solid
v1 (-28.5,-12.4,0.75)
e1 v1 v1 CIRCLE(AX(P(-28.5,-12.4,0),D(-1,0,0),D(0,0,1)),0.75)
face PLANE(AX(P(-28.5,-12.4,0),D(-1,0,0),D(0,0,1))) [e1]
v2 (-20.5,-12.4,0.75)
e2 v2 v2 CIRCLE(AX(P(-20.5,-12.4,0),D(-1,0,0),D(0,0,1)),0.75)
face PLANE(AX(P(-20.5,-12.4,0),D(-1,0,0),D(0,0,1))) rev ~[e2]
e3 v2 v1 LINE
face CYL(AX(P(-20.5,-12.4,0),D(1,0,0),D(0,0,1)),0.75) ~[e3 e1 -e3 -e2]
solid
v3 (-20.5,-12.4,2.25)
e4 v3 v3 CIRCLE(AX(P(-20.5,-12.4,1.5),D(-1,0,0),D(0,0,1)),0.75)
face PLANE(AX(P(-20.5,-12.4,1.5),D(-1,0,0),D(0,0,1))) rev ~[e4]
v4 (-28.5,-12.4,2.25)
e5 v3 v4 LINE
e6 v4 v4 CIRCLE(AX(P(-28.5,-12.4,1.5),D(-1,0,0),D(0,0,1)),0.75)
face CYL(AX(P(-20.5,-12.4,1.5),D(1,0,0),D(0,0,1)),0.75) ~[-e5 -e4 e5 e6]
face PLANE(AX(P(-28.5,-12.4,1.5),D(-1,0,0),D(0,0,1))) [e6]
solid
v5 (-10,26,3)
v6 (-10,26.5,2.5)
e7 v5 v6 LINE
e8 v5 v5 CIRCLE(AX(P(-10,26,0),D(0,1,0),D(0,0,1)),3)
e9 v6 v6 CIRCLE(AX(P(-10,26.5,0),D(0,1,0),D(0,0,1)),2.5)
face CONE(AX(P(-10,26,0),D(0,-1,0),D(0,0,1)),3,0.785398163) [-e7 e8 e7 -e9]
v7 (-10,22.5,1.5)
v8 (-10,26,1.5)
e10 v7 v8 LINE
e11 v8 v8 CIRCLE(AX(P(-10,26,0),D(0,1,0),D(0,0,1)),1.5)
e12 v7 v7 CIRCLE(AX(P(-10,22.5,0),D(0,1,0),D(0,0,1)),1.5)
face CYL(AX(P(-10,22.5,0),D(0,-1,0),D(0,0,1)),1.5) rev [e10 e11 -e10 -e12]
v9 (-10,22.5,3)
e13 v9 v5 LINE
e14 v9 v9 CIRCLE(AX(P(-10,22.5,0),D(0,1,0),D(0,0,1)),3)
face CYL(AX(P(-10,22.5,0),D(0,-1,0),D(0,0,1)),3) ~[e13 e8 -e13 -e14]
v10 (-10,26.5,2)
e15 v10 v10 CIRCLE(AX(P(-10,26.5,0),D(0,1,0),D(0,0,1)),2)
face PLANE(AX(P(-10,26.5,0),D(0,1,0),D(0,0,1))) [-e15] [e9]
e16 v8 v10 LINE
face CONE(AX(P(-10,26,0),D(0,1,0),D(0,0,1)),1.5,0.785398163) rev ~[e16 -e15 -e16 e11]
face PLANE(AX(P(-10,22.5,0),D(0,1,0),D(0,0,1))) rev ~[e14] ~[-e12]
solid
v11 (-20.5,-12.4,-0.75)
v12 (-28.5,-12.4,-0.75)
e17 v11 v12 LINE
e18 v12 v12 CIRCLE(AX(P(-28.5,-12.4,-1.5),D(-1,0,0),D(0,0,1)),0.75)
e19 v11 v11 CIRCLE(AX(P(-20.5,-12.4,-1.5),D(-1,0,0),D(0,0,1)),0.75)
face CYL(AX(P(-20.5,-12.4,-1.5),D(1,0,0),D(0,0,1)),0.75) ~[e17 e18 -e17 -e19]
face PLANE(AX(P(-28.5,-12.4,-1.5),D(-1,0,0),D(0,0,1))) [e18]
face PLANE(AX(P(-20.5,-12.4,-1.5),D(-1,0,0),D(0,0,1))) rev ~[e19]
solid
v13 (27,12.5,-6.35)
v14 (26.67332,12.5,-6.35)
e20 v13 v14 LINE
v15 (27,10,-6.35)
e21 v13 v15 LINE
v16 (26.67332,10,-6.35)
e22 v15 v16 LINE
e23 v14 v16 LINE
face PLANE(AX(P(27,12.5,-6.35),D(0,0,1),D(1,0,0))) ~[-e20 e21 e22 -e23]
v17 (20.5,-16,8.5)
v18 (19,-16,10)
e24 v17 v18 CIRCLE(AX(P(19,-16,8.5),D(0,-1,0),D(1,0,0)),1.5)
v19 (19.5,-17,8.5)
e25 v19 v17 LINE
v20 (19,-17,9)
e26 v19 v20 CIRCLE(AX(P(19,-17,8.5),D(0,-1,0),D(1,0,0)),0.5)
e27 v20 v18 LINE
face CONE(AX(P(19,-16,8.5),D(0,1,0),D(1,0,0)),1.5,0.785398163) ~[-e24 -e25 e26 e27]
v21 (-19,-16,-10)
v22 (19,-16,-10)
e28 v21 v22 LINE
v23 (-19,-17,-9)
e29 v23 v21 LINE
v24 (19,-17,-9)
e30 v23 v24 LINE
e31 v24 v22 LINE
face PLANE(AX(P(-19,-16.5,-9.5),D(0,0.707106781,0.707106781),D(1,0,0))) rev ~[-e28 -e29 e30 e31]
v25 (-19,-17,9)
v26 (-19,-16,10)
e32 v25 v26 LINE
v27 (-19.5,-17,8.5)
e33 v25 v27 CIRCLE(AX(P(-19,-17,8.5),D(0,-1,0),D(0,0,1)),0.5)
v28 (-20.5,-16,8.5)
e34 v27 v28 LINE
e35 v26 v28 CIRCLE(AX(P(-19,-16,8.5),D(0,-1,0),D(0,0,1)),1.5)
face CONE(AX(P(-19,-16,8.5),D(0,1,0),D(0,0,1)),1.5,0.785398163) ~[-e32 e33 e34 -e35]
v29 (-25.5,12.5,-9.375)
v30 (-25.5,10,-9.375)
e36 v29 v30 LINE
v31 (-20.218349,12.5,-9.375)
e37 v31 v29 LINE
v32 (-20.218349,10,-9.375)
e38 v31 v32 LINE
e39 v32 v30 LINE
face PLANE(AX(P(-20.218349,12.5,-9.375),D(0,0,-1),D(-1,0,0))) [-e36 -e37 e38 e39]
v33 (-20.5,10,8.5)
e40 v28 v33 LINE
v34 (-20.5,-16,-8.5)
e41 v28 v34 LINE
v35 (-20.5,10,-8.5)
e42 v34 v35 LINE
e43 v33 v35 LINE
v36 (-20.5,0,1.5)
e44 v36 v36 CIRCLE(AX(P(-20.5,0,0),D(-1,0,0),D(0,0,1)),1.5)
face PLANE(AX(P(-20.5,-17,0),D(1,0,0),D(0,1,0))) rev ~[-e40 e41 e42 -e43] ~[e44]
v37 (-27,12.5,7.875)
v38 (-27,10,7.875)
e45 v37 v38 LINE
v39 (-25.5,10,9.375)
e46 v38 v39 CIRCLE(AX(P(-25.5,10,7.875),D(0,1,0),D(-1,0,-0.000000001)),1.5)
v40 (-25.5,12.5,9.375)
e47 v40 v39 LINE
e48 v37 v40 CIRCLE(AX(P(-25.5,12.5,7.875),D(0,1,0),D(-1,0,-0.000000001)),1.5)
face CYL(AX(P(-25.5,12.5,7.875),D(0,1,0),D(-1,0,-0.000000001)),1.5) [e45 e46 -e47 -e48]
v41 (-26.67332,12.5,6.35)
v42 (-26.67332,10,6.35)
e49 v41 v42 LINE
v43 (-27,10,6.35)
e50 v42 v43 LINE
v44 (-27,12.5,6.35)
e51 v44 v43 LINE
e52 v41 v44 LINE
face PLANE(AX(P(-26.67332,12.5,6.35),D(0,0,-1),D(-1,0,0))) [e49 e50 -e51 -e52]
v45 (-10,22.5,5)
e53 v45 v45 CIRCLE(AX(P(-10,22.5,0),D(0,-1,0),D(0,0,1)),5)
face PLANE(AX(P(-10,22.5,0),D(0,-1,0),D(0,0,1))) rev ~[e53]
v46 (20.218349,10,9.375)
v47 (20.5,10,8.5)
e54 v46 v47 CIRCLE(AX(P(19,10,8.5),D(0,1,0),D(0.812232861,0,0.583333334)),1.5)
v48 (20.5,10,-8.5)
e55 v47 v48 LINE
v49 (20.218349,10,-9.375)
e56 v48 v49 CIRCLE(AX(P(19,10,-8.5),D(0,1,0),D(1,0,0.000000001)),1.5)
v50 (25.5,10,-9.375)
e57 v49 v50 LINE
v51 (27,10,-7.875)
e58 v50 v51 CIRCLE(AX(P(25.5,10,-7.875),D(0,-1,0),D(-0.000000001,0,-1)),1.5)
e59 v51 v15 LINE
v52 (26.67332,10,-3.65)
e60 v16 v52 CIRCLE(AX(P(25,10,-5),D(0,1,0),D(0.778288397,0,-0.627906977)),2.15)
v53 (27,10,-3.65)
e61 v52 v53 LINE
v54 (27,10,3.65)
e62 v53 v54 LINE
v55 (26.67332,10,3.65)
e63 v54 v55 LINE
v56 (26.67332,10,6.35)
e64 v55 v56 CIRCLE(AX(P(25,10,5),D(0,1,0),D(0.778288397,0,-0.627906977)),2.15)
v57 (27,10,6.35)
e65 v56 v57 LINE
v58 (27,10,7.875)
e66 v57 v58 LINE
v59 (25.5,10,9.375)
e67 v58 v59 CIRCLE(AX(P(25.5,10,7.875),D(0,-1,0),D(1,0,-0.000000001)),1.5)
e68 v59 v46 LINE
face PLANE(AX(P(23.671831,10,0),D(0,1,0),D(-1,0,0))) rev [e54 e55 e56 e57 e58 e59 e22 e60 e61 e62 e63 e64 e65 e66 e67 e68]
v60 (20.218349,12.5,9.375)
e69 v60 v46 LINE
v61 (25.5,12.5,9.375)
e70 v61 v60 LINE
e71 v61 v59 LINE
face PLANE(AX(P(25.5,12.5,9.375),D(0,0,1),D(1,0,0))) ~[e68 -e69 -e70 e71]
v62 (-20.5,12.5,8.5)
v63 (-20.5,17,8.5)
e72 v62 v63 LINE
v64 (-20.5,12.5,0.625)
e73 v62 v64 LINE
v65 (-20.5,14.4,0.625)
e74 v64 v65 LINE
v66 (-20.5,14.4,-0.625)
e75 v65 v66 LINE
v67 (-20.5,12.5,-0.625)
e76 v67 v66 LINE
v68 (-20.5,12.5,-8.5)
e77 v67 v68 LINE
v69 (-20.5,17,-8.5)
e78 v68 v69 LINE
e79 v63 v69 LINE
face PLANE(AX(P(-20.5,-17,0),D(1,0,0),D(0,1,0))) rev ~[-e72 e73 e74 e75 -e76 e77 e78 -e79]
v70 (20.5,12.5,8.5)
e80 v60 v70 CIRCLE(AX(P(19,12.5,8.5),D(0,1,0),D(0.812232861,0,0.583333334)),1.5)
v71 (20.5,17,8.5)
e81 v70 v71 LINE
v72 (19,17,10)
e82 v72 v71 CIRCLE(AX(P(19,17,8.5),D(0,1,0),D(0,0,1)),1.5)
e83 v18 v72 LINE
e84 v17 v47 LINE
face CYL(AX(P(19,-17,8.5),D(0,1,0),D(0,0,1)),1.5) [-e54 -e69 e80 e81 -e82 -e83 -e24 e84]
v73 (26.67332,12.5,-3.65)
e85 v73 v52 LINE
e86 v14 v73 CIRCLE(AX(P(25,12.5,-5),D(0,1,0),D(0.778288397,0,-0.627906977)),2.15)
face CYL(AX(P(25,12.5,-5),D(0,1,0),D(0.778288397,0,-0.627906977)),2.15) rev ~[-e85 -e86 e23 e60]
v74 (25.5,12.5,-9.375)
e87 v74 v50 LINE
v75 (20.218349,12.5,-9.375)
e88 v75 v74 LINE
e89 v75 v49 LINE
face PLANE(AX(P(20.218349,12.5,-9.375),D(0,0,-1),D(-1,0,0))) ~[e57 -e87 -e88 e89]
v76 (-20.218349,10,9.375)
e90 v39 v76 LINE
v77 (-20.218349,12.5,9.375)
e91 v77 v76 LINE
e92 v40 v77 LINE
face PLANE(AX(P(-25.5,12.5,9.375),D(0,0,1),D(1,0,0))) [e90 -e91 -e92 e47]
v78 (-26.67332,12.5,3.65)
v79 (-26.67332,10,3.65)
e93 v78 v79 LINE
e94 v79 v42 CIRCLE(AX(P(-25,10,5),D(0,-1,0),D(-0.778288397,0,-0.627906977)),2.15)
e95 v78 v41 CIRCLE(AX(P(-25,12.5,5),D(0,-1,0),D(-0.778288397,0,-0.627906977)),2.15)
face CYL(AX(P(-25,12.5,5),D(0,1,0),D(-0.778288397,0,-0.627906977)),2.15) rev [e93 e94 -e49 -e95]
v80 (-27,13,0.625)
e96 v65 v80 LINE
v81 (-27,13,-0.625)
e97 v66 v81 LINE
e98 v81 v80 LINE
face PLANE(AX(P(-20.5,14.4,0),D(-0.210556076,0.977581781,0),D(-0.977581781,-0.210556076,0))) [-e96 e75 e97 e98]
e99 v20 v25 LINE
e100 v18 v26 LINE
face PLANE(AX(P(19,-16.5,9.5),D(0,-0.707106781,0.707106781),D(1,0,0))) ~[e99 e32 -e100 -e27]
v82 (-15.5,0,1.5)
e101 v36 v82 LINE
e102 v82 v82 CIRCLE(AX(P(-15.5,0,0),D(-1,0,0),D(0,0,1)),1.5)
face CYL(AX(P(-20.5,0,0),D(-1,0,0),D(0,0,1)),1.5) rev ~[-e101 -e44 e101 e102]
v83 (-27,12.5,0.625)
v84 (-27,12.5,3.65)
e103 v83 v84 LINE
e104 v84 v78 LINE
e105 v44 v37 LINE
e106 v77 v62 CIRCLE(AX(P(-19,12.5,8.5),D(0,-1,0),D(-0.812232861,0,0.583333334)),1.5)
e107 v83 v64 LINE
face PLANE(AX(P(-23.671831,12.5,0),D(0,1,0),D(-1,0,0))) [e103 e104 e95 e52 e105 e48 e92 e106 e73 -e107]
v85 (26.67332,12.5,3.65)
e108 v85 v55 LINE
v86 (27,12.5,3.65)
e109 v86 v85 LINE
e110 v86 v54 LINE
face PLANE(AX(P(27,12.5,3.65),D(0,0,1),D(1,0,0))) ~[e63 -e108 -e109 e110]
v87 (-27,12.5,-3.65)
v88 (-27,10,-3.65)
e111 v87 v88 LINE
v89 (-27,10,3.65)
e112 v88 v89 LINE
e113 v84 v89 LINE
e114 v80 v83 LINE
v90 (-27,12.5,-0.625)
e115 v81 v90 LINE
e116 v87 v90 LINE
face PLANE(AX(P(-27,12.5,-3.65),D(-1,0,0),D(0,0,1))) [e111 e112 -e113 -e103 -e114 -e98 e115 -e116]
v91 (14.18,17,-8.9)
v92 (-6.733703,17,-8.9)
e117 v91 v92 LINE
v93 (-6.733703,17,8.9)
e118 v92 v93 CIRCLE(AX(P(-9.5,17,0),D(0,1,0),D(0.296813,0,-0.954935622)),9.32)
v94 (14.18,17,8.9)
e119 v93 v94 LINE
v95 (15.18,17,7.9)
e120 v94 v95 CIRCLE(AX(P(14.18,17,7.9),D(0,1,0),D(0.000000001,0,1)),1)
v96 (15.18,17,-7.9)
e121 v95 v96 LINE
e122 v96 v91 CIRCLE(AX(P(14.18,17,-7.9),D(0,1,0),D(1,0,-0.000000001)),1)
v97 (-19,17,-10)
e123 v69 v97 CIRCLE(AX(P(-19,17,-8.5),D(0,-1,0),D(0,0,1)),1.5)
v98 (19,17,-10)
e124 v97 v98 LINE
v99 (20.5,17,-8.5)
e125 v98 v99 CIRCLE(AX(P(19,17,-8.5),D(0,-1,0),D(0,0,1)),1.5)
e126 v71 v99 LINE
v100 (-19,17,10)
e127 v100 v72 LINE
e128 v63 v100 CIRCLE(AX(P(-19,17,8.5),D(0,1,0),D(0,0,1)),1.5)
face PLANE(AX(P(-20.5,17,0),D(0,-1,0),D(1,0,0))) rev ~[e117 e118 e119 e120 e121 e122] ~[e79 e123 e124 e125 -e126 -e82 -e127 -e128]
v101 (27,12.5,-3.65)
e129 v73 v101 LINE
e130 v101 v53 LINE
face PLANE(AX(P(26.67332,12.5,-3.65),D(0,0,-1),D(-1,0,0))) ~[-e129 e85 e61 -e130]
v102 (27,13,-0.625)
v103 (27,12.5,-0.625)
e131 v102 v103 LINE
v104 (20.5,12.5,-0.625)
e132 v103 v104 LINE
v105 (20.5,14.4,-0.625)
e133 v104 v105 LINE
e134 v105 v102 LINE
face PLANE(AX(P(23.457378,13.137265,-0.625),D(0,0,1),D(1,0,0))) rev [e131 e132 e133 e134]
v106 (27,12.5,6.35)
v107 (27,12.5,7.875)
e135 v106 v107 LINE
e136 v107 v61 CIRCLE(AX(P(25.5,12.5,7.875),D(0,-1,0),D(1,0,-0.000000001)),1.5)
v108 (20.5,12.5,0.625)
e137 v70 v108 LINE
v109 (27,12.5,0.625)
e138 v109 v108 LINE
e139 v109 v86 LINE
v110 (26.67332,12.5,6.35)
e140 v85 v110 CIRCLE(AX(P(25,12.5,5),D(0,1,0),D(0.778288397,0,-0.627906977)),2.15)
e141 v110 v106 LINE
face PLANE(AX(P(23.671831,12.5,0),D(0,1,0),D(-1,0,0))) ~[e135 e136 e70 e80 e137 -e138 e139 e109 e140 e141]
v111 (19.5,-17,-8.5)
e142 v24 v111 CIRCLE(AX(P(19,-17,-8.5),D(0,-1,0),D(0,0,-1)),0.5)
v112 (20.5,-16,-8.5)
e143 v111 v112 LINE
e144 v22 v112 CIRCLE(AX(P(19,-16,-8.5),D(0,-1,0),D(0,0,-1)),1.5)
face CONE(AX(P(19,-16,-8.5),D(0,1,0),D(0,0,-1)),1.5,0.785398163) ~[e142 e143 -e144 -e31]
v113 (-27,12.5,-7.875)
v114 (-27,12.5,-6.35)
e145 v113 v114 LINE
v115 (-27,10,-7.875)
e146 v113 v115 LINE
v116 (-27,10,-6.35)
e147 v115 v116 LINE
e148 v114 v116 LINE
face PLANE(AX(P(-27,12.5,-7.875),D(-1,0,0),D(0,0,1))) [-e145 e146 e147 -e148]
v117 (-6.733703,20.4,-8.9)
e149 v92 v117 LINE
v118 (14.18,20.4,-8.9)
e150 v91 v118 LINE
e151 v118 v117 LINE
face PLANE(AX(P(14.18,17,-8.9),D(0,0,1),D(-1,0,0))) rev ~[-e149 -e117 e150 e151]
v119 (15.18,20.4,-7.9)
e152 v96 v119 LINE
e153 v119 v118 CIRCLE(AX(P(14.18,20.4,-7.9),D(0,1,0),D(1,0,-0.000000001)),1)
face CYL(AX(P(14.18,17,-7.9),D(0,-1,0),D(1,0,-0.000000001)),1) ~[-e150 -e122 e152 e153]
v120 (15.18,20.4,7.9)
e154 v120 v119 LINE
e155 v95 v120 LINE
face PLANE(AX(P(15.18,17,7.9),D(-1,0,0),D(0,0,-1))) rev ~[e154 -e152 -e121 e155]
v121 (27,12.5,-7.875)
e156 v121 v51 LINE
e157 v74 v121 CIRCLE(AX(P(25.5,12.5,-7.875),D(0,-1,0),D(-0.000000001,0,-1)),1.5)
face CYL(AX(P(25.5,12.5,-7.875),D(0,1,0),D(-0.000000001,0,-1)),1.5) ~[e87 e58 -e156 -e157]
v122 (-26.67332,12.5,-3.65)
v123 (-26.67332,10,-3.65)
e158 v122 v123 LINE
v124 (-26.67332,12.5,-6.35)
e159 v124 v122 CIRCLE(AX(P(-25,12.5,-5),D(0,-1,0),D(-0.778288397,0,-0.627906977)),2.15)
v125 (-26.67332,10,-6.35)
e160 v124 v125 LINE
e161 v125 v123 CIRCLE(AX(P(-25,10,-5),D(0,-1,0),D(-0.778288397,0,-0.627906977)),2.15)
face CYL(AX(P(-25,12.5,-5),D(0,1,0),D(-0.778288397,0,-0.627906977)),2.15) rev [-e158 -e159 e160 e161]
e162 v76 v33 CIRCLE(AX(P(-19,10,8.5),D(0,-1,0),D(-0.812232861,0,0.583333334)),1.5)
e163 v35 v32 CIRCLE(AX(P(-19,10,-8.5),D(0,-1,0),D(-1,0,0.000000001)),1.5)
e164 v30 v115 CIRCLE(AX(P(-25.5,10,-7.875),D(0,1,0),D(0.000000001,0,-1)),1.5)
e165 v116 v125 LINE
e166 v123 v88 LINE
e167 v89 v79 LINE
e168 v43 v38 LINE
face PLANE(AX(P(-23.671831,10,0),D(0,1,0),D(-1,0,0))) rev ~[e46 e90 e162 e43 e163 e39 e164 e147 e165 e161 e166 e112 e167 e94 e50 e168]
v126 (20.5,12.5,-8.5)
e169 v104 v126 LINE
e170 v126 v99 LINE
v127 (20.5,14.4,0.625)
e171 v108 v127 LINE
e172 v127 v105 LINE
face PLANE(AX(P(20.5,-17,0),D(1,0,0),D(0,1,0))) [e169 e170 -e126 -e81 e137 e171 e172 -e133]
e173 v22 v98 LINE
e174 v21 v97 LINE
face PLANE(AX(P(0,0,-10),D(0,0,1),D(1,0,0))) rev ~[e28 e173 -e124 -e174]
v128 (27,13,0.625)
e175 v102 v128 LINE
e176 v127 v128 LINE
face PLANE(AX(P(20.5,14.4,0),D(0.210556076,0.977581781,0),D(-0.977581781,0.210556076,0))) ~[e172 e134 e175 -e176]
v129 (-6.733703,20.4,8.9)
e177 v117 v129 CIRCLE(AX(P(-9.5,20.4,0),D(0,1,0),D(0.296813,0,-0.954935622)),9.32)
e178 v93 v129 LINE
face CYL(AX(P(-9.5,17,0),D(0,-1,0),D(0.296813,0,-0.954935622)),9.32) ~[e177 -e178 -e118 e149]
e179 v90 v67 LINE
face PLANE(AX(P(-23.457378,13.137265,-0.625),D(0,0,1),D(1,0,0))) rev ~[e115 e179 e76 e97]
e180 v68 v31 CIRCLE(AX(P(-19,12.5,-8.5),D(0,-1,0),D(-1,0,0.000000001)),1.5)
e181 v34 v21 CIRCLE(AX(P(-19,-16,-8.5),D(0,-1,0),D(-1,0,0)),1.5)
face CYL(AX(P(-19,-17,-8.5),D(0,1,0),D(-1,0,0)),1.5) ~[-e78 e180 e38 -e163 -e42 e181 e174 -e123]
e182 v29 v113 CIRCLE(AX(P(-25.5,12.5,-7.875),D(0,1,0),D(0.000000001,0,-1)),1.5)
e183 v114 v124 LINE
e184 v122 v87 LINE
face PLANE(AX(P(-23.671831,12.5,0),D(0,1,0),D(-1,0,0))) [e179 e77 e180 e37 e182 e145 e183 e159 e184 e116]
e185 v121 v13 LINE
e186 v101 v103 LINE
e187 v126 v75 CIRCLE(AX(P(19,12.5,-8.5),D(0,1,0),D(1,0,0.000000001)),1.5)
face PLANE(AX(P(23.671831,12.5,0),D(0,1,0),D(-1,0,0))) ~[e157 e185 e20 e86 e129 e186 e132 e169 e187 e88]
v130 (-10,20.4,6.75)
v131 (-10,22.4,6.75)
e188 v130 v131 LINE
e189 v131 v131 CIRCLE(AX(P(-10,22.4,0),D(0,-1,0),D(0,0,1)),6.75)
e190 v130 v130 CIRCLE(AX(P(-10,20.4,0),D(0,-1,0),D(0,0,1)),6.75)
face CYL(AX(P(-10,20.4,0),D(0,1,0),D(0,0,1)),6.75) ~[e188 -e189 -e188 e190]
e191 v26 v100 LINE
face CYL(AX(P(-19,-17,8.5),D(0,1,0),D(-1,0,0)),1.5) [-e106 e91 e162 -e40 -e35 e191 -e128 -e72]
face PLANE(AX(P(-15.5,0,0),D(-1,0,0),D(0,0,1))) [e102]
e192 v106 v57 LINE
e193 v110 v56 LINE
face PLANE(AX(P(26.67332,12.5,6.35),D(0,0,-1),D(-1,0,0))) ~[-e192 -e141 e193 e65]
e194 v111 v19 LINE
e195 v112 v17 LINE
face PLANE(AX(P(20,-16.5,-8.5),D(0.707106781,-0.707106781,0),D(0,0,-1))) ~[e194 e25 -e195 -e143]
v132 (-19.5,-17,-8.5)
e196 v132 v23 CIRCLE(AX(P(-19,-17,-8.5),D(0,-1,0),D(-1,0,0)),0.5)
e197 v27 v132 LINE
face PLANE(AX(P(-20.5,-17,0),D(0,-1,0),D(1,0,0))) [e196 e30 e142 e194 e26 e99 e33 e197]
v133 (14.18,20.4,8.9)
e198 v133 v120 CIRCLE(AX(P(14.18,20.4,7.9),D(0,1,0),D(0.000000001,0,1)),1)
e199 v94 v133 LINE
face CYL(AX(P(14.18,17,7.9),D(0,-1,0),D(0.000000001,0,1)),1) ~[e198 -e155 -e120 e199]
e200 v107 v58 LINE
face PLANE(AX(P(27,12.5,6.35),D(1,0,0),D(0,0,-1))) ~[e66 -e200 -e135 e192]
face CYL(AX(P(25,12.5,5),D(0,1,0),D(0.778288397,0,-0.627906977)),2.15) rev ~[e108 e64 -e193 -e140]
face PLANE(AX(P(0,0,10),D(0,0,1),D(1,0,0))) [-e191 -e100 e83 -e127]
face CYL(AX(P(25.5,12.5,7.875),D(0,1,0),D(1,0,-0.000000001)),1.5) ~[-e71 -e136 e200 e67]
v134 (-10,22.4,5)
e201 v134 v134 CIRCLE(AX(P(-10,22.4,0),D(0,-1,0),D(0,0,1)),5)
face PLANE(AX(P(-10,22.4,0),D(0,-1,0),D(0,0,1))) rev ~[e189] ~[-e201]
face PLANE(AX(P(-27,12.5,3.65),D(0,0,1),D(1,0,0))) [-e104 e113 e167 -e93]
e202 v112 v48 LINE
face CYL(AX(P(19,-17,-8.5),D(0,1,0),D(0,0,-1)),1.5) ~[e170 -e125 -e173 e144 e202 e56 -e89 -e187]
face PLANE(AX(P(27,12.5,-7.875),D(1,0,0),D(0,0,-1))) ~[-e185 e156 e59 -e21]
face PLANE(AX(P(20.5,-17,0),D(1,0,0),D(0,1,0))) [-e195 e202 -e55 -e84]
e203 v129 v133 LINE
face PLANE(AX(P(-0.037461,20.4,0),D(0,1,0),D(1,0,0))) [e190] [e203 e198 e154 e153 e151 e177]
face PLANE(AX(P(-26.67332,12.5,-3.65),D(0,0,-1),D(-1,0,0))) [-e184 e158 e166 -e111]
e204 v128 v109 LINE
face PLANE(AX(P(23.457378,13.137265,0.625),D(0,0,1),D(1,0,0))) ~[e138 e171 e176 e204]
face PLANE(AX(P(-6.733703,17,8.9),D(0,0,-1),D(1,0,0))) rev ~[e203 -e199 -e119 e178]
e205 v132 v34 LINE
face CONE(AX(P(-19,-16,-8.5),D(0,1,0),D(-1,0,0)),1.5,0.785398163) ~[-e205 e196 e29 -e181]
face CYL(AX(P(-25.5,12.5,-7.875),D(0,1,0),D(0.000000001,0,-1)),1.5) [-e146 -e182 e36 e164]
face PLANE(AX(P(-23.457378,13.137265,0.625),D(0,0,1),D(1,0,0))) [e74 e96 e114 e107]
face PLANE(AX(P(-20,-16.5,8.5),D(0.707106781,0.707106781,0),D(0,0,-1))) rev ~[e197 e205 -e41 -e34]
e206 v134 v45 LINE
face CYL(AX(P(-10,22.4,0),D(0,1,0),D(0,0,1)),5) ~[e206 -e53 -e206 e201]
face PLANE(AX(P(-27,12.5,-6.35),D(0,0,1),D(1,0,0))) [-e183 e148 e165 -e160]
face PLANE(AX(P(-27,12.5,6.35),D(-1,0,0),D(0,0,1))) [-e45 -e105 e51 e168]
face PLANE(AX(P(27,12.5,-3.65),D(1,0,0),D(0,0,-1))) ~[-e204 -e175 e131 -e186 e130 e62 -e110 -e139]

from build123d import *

# Parameters (mm, degrees)
SKETCH1_W          = 41
SKETCH1_H          = 34
EXTRUDE1_DEPTH     = 10
EXTRUDE2_DEPTH     = 3.4
SKETCH4_R          = 3
SKETCH4_R_2        = 1.5
EXTRUDE3_DEPTH     = 4
FILLET1_R          = 1.5
EXTRUDE4_DEPTH     = 2.5
EXTRUDE5_DEPTH     = 0.625
SKETCH8_R          = 0.75
EXTRUDE6_DEPTH     = 8
SKETCH9_R          = 0.75
EXTRUDE7_DEPTH     = 8
SKETCH10_R         = 0.75
EXTRUDE8_DEPTH     = 8
CHAMFER1_SIZE      = 1
CHAMFER2_SIZE      = 0.5
SKETCH11_R         = 1.5
CUT_EXTRUDE1_DEPTH = 5


with BuildPart() as part:
    # Sketch1 → Extrude1 (new, symmetric)
    with BuildSketch(Plane.XY):
        Rectangle(SKETCH1_W, SKETCH1_H)
    extrude(amount=EXTRUDE1_DEPTH, both=True)

    # Sketch2 → Extrude2 (add)
    with BuildSketch(Plane(origin=(0, 17, 0), x_dir=(1, 0, 0), z_dir=(0, 1, 0))):
        with BuildLine():
            Line((-6.733702836, -8.9), (14.18, -8.9))
            ThreePointArc((14.18, -8.9), (14.887106781, -8.607106781), (15.18, -7.9))
            Line((15.18, -7.9), (15.18, 7.9))
            ThreePointArc((15.18, 7.9), (14.887106781, 8.607106781), (14.18, 8.9))
            Line((14.18, 8.9), (-6.733702836, 8.9))
            ThreePointArc((-6.733702836, 8.9), (-18.82, 0), (-6.733702836, -8.9))
        make_face()
    extrude(amount=EXTRUDE2_DEPTH)

    # Sketch3 → Revolve1 (revolve)
    with BuildSketch(Plane.XY, mode=Mode.PRIVATE) as revolve1_sk:
        Polygon((-10, 20.4), (-16.75, 20.4), (-16.75, 22.4), (-15, 22.4), (-15, 22.5), (-10, 22.5), align=None)
    revolve(revolve1_sk.sketch.rotate(Axis((-10, 22.5, 0), (0, -1, 0)), 270), axis=Axis((-10, 22.5, 0), (0, -1, 0)))

    # Fillet1
    fillet1_edges = [part.edges().sort_by_distance(p)[0] for p in [
        (20.5, 0, 10),
        (-20.5, 0, 10),
        (20.5, 0, -10),
        (-20.5, 0, -10),
    ]]
    fillet(fillet1_edges, radius=FILLET1_R)

    # Sketch6 → Extrude4 (add)
    with BuildSketch(Plane(origin=(0, 12.5, 0), x_dir=(-1, 0, 0), z_dir=(0, 1, 0))):
        with BuildLine():
            Line((27, 0), (27, 3.65))
            Line((27, 3.65), (26.673320053, 3.65))
            ThreePointArc((26.673320053, 3.65), (22.85, 5), (26.673320053, 6.35))
            Line((26.673320053, 6.35), (27, 6.35))
            Line((27, 6.35), (27, 7.875))
            ThreePointArc((27, 7.875), (26.560660172, 8.935660172), (25.5, 9.375))
            Line((25.5, 9.375), (20.218349293, 9.375))
            ThreePointArc((20.218349293, 9.375), (20.427852223, 8.959606386), (20.5, 8.5))
            Line((20.5, 8.5), (20.5, 0))
            Line((20.5, 0), (20.5, -8.5))
            ThreePointArc((20.5, -8.5), (20.427852223, -8.959606386), (20.218349293, -9.375))
            Line((20.218349293, -9.375), (25.5, -9.375))
            ThreePointArc((25.5, -9.375), (26.560660172, -8.935660172), (27, -7.875))
            Line((27, -7.875), (27, -6.35))
            Line((27, -6.35), (26.673320053, -6.35))
            ThreePointArc((26.673320053, -6.35), (22.85, -5), (26.673320053, -3.65))
            Line((26.673320053, -3.65), (27, -3.65))
            Line((27, -3.65), (27, 0))
        make_face()
    extrude4 = extrude(amount=-EXTRUDE4_DEPTH)

    # Sketch7 → Extrude5 (add, symmetric)
    with BuildSketch(Plane.XY):
        Polygon((-20.5, 14.4), (-27, 13), (-27, 12.5), (-20.5, 12.5), align=None)
    extrude5 = extrude(amount=EXTRUDE5_DEPTH, both=True)

    # Mirror1: Extrude4, Extrude5 across plane
    add(extrude4.mirror(Plane(origin=(0, 0, 0), x_dir=(0, 0, 1), z_dir=(1, 0, 0))))
    add(extrude5.mirror(Plane(origin=(0, 0, 0), x_dir=(0, 0, 1), z_dir=(1, 0, 0))))

    # Chamfer1
    chamfer1_edges = [part.edges().sort_by_distance(p)[0] for p in [
        (20.5, -17, 0),
        (0, -17, -10),
        (0, -17, 10),
        (-20.5, -17, 0),
        (-20.060660172, -17, 9.560660172),
        (-20.060660172, -17, -9.560660172),
        (20.060660172, -17, 9.560660172),
        (20.060660172, -17, -9.560660172),
    ]]
    chamfer(chamfer1_edges, length=CHAMFER1_SIZE)

    # Sketch11 → Cut-Extrude1 (cut)
    with BuildSketch(Plane.ZY.offset(20.5)):
        Circle(SKETCH11_R)
    extrude(amount=-CUT_EXTRUDE1_DEPTH, mode=Mode.SUBTRACT)


with BuildPart() as body_2:
    # Sketch4 → Extrude3 (new body)
    with BuildSketch(Plane(origin=(0, 22.5, 0), x_dir=(1, 0, 0), z_dir=(0, 1, 0))):
        with Locations(Location((-10, 0, 0), (0, 0, 270))):
            Circle(SKETCH4_R)
        with Locations(Location((-10, 0, 0), (0, 0, 270))):
            Circle(SKETCH4_R_2, mode=Mode.SUBTRACT)
    extrude(amount=EXTRUDE3_DEPTH)

    # Chamfer2
    chamfer2_edges = [body_2.edges().sort_by_distance(p)[0] for p in [
        (-10, 26.5, -3),
        (-10, 26.5, -1.5),
    ]]
    chamfer(chamfer2_edges, length=CHAMFER2_SIZE)


with BuildPart() as body_3:
    # Sketch8 → Extrude6 (new body)
    with BuildSketch(Plane.ZY.offset(20.5)):
        with Locations((0, -12.4)):
            Circle(SKETCH8_R)
    extrude(amount=EXTRUDE6_DEPTH)


with BuildPart() as body_4:
    # Sketch9 → Extrude7 (new body)
    with BuildSketch(Plane.ZY.offset(20.5)):
        with Locations((1.5, -12.4)):
            Circle(SKETCH9_R)
    extrude(amount=EXTRUDE7_DEPTH)


with BuildPart() as body_5:
    # Sketch10 → Extrude8 (new body)
    with BuildSketch(Plane.ZY.offset(20.5)):
        with Locations((-1.5, -12.4)):
            Circle(SKETCH10_R)
    extrude(amount=EXTRUDE8_DEPTH)


solid = Compound([part.part, body_2.part, body_3.part, body_4.part, body_5.part])
